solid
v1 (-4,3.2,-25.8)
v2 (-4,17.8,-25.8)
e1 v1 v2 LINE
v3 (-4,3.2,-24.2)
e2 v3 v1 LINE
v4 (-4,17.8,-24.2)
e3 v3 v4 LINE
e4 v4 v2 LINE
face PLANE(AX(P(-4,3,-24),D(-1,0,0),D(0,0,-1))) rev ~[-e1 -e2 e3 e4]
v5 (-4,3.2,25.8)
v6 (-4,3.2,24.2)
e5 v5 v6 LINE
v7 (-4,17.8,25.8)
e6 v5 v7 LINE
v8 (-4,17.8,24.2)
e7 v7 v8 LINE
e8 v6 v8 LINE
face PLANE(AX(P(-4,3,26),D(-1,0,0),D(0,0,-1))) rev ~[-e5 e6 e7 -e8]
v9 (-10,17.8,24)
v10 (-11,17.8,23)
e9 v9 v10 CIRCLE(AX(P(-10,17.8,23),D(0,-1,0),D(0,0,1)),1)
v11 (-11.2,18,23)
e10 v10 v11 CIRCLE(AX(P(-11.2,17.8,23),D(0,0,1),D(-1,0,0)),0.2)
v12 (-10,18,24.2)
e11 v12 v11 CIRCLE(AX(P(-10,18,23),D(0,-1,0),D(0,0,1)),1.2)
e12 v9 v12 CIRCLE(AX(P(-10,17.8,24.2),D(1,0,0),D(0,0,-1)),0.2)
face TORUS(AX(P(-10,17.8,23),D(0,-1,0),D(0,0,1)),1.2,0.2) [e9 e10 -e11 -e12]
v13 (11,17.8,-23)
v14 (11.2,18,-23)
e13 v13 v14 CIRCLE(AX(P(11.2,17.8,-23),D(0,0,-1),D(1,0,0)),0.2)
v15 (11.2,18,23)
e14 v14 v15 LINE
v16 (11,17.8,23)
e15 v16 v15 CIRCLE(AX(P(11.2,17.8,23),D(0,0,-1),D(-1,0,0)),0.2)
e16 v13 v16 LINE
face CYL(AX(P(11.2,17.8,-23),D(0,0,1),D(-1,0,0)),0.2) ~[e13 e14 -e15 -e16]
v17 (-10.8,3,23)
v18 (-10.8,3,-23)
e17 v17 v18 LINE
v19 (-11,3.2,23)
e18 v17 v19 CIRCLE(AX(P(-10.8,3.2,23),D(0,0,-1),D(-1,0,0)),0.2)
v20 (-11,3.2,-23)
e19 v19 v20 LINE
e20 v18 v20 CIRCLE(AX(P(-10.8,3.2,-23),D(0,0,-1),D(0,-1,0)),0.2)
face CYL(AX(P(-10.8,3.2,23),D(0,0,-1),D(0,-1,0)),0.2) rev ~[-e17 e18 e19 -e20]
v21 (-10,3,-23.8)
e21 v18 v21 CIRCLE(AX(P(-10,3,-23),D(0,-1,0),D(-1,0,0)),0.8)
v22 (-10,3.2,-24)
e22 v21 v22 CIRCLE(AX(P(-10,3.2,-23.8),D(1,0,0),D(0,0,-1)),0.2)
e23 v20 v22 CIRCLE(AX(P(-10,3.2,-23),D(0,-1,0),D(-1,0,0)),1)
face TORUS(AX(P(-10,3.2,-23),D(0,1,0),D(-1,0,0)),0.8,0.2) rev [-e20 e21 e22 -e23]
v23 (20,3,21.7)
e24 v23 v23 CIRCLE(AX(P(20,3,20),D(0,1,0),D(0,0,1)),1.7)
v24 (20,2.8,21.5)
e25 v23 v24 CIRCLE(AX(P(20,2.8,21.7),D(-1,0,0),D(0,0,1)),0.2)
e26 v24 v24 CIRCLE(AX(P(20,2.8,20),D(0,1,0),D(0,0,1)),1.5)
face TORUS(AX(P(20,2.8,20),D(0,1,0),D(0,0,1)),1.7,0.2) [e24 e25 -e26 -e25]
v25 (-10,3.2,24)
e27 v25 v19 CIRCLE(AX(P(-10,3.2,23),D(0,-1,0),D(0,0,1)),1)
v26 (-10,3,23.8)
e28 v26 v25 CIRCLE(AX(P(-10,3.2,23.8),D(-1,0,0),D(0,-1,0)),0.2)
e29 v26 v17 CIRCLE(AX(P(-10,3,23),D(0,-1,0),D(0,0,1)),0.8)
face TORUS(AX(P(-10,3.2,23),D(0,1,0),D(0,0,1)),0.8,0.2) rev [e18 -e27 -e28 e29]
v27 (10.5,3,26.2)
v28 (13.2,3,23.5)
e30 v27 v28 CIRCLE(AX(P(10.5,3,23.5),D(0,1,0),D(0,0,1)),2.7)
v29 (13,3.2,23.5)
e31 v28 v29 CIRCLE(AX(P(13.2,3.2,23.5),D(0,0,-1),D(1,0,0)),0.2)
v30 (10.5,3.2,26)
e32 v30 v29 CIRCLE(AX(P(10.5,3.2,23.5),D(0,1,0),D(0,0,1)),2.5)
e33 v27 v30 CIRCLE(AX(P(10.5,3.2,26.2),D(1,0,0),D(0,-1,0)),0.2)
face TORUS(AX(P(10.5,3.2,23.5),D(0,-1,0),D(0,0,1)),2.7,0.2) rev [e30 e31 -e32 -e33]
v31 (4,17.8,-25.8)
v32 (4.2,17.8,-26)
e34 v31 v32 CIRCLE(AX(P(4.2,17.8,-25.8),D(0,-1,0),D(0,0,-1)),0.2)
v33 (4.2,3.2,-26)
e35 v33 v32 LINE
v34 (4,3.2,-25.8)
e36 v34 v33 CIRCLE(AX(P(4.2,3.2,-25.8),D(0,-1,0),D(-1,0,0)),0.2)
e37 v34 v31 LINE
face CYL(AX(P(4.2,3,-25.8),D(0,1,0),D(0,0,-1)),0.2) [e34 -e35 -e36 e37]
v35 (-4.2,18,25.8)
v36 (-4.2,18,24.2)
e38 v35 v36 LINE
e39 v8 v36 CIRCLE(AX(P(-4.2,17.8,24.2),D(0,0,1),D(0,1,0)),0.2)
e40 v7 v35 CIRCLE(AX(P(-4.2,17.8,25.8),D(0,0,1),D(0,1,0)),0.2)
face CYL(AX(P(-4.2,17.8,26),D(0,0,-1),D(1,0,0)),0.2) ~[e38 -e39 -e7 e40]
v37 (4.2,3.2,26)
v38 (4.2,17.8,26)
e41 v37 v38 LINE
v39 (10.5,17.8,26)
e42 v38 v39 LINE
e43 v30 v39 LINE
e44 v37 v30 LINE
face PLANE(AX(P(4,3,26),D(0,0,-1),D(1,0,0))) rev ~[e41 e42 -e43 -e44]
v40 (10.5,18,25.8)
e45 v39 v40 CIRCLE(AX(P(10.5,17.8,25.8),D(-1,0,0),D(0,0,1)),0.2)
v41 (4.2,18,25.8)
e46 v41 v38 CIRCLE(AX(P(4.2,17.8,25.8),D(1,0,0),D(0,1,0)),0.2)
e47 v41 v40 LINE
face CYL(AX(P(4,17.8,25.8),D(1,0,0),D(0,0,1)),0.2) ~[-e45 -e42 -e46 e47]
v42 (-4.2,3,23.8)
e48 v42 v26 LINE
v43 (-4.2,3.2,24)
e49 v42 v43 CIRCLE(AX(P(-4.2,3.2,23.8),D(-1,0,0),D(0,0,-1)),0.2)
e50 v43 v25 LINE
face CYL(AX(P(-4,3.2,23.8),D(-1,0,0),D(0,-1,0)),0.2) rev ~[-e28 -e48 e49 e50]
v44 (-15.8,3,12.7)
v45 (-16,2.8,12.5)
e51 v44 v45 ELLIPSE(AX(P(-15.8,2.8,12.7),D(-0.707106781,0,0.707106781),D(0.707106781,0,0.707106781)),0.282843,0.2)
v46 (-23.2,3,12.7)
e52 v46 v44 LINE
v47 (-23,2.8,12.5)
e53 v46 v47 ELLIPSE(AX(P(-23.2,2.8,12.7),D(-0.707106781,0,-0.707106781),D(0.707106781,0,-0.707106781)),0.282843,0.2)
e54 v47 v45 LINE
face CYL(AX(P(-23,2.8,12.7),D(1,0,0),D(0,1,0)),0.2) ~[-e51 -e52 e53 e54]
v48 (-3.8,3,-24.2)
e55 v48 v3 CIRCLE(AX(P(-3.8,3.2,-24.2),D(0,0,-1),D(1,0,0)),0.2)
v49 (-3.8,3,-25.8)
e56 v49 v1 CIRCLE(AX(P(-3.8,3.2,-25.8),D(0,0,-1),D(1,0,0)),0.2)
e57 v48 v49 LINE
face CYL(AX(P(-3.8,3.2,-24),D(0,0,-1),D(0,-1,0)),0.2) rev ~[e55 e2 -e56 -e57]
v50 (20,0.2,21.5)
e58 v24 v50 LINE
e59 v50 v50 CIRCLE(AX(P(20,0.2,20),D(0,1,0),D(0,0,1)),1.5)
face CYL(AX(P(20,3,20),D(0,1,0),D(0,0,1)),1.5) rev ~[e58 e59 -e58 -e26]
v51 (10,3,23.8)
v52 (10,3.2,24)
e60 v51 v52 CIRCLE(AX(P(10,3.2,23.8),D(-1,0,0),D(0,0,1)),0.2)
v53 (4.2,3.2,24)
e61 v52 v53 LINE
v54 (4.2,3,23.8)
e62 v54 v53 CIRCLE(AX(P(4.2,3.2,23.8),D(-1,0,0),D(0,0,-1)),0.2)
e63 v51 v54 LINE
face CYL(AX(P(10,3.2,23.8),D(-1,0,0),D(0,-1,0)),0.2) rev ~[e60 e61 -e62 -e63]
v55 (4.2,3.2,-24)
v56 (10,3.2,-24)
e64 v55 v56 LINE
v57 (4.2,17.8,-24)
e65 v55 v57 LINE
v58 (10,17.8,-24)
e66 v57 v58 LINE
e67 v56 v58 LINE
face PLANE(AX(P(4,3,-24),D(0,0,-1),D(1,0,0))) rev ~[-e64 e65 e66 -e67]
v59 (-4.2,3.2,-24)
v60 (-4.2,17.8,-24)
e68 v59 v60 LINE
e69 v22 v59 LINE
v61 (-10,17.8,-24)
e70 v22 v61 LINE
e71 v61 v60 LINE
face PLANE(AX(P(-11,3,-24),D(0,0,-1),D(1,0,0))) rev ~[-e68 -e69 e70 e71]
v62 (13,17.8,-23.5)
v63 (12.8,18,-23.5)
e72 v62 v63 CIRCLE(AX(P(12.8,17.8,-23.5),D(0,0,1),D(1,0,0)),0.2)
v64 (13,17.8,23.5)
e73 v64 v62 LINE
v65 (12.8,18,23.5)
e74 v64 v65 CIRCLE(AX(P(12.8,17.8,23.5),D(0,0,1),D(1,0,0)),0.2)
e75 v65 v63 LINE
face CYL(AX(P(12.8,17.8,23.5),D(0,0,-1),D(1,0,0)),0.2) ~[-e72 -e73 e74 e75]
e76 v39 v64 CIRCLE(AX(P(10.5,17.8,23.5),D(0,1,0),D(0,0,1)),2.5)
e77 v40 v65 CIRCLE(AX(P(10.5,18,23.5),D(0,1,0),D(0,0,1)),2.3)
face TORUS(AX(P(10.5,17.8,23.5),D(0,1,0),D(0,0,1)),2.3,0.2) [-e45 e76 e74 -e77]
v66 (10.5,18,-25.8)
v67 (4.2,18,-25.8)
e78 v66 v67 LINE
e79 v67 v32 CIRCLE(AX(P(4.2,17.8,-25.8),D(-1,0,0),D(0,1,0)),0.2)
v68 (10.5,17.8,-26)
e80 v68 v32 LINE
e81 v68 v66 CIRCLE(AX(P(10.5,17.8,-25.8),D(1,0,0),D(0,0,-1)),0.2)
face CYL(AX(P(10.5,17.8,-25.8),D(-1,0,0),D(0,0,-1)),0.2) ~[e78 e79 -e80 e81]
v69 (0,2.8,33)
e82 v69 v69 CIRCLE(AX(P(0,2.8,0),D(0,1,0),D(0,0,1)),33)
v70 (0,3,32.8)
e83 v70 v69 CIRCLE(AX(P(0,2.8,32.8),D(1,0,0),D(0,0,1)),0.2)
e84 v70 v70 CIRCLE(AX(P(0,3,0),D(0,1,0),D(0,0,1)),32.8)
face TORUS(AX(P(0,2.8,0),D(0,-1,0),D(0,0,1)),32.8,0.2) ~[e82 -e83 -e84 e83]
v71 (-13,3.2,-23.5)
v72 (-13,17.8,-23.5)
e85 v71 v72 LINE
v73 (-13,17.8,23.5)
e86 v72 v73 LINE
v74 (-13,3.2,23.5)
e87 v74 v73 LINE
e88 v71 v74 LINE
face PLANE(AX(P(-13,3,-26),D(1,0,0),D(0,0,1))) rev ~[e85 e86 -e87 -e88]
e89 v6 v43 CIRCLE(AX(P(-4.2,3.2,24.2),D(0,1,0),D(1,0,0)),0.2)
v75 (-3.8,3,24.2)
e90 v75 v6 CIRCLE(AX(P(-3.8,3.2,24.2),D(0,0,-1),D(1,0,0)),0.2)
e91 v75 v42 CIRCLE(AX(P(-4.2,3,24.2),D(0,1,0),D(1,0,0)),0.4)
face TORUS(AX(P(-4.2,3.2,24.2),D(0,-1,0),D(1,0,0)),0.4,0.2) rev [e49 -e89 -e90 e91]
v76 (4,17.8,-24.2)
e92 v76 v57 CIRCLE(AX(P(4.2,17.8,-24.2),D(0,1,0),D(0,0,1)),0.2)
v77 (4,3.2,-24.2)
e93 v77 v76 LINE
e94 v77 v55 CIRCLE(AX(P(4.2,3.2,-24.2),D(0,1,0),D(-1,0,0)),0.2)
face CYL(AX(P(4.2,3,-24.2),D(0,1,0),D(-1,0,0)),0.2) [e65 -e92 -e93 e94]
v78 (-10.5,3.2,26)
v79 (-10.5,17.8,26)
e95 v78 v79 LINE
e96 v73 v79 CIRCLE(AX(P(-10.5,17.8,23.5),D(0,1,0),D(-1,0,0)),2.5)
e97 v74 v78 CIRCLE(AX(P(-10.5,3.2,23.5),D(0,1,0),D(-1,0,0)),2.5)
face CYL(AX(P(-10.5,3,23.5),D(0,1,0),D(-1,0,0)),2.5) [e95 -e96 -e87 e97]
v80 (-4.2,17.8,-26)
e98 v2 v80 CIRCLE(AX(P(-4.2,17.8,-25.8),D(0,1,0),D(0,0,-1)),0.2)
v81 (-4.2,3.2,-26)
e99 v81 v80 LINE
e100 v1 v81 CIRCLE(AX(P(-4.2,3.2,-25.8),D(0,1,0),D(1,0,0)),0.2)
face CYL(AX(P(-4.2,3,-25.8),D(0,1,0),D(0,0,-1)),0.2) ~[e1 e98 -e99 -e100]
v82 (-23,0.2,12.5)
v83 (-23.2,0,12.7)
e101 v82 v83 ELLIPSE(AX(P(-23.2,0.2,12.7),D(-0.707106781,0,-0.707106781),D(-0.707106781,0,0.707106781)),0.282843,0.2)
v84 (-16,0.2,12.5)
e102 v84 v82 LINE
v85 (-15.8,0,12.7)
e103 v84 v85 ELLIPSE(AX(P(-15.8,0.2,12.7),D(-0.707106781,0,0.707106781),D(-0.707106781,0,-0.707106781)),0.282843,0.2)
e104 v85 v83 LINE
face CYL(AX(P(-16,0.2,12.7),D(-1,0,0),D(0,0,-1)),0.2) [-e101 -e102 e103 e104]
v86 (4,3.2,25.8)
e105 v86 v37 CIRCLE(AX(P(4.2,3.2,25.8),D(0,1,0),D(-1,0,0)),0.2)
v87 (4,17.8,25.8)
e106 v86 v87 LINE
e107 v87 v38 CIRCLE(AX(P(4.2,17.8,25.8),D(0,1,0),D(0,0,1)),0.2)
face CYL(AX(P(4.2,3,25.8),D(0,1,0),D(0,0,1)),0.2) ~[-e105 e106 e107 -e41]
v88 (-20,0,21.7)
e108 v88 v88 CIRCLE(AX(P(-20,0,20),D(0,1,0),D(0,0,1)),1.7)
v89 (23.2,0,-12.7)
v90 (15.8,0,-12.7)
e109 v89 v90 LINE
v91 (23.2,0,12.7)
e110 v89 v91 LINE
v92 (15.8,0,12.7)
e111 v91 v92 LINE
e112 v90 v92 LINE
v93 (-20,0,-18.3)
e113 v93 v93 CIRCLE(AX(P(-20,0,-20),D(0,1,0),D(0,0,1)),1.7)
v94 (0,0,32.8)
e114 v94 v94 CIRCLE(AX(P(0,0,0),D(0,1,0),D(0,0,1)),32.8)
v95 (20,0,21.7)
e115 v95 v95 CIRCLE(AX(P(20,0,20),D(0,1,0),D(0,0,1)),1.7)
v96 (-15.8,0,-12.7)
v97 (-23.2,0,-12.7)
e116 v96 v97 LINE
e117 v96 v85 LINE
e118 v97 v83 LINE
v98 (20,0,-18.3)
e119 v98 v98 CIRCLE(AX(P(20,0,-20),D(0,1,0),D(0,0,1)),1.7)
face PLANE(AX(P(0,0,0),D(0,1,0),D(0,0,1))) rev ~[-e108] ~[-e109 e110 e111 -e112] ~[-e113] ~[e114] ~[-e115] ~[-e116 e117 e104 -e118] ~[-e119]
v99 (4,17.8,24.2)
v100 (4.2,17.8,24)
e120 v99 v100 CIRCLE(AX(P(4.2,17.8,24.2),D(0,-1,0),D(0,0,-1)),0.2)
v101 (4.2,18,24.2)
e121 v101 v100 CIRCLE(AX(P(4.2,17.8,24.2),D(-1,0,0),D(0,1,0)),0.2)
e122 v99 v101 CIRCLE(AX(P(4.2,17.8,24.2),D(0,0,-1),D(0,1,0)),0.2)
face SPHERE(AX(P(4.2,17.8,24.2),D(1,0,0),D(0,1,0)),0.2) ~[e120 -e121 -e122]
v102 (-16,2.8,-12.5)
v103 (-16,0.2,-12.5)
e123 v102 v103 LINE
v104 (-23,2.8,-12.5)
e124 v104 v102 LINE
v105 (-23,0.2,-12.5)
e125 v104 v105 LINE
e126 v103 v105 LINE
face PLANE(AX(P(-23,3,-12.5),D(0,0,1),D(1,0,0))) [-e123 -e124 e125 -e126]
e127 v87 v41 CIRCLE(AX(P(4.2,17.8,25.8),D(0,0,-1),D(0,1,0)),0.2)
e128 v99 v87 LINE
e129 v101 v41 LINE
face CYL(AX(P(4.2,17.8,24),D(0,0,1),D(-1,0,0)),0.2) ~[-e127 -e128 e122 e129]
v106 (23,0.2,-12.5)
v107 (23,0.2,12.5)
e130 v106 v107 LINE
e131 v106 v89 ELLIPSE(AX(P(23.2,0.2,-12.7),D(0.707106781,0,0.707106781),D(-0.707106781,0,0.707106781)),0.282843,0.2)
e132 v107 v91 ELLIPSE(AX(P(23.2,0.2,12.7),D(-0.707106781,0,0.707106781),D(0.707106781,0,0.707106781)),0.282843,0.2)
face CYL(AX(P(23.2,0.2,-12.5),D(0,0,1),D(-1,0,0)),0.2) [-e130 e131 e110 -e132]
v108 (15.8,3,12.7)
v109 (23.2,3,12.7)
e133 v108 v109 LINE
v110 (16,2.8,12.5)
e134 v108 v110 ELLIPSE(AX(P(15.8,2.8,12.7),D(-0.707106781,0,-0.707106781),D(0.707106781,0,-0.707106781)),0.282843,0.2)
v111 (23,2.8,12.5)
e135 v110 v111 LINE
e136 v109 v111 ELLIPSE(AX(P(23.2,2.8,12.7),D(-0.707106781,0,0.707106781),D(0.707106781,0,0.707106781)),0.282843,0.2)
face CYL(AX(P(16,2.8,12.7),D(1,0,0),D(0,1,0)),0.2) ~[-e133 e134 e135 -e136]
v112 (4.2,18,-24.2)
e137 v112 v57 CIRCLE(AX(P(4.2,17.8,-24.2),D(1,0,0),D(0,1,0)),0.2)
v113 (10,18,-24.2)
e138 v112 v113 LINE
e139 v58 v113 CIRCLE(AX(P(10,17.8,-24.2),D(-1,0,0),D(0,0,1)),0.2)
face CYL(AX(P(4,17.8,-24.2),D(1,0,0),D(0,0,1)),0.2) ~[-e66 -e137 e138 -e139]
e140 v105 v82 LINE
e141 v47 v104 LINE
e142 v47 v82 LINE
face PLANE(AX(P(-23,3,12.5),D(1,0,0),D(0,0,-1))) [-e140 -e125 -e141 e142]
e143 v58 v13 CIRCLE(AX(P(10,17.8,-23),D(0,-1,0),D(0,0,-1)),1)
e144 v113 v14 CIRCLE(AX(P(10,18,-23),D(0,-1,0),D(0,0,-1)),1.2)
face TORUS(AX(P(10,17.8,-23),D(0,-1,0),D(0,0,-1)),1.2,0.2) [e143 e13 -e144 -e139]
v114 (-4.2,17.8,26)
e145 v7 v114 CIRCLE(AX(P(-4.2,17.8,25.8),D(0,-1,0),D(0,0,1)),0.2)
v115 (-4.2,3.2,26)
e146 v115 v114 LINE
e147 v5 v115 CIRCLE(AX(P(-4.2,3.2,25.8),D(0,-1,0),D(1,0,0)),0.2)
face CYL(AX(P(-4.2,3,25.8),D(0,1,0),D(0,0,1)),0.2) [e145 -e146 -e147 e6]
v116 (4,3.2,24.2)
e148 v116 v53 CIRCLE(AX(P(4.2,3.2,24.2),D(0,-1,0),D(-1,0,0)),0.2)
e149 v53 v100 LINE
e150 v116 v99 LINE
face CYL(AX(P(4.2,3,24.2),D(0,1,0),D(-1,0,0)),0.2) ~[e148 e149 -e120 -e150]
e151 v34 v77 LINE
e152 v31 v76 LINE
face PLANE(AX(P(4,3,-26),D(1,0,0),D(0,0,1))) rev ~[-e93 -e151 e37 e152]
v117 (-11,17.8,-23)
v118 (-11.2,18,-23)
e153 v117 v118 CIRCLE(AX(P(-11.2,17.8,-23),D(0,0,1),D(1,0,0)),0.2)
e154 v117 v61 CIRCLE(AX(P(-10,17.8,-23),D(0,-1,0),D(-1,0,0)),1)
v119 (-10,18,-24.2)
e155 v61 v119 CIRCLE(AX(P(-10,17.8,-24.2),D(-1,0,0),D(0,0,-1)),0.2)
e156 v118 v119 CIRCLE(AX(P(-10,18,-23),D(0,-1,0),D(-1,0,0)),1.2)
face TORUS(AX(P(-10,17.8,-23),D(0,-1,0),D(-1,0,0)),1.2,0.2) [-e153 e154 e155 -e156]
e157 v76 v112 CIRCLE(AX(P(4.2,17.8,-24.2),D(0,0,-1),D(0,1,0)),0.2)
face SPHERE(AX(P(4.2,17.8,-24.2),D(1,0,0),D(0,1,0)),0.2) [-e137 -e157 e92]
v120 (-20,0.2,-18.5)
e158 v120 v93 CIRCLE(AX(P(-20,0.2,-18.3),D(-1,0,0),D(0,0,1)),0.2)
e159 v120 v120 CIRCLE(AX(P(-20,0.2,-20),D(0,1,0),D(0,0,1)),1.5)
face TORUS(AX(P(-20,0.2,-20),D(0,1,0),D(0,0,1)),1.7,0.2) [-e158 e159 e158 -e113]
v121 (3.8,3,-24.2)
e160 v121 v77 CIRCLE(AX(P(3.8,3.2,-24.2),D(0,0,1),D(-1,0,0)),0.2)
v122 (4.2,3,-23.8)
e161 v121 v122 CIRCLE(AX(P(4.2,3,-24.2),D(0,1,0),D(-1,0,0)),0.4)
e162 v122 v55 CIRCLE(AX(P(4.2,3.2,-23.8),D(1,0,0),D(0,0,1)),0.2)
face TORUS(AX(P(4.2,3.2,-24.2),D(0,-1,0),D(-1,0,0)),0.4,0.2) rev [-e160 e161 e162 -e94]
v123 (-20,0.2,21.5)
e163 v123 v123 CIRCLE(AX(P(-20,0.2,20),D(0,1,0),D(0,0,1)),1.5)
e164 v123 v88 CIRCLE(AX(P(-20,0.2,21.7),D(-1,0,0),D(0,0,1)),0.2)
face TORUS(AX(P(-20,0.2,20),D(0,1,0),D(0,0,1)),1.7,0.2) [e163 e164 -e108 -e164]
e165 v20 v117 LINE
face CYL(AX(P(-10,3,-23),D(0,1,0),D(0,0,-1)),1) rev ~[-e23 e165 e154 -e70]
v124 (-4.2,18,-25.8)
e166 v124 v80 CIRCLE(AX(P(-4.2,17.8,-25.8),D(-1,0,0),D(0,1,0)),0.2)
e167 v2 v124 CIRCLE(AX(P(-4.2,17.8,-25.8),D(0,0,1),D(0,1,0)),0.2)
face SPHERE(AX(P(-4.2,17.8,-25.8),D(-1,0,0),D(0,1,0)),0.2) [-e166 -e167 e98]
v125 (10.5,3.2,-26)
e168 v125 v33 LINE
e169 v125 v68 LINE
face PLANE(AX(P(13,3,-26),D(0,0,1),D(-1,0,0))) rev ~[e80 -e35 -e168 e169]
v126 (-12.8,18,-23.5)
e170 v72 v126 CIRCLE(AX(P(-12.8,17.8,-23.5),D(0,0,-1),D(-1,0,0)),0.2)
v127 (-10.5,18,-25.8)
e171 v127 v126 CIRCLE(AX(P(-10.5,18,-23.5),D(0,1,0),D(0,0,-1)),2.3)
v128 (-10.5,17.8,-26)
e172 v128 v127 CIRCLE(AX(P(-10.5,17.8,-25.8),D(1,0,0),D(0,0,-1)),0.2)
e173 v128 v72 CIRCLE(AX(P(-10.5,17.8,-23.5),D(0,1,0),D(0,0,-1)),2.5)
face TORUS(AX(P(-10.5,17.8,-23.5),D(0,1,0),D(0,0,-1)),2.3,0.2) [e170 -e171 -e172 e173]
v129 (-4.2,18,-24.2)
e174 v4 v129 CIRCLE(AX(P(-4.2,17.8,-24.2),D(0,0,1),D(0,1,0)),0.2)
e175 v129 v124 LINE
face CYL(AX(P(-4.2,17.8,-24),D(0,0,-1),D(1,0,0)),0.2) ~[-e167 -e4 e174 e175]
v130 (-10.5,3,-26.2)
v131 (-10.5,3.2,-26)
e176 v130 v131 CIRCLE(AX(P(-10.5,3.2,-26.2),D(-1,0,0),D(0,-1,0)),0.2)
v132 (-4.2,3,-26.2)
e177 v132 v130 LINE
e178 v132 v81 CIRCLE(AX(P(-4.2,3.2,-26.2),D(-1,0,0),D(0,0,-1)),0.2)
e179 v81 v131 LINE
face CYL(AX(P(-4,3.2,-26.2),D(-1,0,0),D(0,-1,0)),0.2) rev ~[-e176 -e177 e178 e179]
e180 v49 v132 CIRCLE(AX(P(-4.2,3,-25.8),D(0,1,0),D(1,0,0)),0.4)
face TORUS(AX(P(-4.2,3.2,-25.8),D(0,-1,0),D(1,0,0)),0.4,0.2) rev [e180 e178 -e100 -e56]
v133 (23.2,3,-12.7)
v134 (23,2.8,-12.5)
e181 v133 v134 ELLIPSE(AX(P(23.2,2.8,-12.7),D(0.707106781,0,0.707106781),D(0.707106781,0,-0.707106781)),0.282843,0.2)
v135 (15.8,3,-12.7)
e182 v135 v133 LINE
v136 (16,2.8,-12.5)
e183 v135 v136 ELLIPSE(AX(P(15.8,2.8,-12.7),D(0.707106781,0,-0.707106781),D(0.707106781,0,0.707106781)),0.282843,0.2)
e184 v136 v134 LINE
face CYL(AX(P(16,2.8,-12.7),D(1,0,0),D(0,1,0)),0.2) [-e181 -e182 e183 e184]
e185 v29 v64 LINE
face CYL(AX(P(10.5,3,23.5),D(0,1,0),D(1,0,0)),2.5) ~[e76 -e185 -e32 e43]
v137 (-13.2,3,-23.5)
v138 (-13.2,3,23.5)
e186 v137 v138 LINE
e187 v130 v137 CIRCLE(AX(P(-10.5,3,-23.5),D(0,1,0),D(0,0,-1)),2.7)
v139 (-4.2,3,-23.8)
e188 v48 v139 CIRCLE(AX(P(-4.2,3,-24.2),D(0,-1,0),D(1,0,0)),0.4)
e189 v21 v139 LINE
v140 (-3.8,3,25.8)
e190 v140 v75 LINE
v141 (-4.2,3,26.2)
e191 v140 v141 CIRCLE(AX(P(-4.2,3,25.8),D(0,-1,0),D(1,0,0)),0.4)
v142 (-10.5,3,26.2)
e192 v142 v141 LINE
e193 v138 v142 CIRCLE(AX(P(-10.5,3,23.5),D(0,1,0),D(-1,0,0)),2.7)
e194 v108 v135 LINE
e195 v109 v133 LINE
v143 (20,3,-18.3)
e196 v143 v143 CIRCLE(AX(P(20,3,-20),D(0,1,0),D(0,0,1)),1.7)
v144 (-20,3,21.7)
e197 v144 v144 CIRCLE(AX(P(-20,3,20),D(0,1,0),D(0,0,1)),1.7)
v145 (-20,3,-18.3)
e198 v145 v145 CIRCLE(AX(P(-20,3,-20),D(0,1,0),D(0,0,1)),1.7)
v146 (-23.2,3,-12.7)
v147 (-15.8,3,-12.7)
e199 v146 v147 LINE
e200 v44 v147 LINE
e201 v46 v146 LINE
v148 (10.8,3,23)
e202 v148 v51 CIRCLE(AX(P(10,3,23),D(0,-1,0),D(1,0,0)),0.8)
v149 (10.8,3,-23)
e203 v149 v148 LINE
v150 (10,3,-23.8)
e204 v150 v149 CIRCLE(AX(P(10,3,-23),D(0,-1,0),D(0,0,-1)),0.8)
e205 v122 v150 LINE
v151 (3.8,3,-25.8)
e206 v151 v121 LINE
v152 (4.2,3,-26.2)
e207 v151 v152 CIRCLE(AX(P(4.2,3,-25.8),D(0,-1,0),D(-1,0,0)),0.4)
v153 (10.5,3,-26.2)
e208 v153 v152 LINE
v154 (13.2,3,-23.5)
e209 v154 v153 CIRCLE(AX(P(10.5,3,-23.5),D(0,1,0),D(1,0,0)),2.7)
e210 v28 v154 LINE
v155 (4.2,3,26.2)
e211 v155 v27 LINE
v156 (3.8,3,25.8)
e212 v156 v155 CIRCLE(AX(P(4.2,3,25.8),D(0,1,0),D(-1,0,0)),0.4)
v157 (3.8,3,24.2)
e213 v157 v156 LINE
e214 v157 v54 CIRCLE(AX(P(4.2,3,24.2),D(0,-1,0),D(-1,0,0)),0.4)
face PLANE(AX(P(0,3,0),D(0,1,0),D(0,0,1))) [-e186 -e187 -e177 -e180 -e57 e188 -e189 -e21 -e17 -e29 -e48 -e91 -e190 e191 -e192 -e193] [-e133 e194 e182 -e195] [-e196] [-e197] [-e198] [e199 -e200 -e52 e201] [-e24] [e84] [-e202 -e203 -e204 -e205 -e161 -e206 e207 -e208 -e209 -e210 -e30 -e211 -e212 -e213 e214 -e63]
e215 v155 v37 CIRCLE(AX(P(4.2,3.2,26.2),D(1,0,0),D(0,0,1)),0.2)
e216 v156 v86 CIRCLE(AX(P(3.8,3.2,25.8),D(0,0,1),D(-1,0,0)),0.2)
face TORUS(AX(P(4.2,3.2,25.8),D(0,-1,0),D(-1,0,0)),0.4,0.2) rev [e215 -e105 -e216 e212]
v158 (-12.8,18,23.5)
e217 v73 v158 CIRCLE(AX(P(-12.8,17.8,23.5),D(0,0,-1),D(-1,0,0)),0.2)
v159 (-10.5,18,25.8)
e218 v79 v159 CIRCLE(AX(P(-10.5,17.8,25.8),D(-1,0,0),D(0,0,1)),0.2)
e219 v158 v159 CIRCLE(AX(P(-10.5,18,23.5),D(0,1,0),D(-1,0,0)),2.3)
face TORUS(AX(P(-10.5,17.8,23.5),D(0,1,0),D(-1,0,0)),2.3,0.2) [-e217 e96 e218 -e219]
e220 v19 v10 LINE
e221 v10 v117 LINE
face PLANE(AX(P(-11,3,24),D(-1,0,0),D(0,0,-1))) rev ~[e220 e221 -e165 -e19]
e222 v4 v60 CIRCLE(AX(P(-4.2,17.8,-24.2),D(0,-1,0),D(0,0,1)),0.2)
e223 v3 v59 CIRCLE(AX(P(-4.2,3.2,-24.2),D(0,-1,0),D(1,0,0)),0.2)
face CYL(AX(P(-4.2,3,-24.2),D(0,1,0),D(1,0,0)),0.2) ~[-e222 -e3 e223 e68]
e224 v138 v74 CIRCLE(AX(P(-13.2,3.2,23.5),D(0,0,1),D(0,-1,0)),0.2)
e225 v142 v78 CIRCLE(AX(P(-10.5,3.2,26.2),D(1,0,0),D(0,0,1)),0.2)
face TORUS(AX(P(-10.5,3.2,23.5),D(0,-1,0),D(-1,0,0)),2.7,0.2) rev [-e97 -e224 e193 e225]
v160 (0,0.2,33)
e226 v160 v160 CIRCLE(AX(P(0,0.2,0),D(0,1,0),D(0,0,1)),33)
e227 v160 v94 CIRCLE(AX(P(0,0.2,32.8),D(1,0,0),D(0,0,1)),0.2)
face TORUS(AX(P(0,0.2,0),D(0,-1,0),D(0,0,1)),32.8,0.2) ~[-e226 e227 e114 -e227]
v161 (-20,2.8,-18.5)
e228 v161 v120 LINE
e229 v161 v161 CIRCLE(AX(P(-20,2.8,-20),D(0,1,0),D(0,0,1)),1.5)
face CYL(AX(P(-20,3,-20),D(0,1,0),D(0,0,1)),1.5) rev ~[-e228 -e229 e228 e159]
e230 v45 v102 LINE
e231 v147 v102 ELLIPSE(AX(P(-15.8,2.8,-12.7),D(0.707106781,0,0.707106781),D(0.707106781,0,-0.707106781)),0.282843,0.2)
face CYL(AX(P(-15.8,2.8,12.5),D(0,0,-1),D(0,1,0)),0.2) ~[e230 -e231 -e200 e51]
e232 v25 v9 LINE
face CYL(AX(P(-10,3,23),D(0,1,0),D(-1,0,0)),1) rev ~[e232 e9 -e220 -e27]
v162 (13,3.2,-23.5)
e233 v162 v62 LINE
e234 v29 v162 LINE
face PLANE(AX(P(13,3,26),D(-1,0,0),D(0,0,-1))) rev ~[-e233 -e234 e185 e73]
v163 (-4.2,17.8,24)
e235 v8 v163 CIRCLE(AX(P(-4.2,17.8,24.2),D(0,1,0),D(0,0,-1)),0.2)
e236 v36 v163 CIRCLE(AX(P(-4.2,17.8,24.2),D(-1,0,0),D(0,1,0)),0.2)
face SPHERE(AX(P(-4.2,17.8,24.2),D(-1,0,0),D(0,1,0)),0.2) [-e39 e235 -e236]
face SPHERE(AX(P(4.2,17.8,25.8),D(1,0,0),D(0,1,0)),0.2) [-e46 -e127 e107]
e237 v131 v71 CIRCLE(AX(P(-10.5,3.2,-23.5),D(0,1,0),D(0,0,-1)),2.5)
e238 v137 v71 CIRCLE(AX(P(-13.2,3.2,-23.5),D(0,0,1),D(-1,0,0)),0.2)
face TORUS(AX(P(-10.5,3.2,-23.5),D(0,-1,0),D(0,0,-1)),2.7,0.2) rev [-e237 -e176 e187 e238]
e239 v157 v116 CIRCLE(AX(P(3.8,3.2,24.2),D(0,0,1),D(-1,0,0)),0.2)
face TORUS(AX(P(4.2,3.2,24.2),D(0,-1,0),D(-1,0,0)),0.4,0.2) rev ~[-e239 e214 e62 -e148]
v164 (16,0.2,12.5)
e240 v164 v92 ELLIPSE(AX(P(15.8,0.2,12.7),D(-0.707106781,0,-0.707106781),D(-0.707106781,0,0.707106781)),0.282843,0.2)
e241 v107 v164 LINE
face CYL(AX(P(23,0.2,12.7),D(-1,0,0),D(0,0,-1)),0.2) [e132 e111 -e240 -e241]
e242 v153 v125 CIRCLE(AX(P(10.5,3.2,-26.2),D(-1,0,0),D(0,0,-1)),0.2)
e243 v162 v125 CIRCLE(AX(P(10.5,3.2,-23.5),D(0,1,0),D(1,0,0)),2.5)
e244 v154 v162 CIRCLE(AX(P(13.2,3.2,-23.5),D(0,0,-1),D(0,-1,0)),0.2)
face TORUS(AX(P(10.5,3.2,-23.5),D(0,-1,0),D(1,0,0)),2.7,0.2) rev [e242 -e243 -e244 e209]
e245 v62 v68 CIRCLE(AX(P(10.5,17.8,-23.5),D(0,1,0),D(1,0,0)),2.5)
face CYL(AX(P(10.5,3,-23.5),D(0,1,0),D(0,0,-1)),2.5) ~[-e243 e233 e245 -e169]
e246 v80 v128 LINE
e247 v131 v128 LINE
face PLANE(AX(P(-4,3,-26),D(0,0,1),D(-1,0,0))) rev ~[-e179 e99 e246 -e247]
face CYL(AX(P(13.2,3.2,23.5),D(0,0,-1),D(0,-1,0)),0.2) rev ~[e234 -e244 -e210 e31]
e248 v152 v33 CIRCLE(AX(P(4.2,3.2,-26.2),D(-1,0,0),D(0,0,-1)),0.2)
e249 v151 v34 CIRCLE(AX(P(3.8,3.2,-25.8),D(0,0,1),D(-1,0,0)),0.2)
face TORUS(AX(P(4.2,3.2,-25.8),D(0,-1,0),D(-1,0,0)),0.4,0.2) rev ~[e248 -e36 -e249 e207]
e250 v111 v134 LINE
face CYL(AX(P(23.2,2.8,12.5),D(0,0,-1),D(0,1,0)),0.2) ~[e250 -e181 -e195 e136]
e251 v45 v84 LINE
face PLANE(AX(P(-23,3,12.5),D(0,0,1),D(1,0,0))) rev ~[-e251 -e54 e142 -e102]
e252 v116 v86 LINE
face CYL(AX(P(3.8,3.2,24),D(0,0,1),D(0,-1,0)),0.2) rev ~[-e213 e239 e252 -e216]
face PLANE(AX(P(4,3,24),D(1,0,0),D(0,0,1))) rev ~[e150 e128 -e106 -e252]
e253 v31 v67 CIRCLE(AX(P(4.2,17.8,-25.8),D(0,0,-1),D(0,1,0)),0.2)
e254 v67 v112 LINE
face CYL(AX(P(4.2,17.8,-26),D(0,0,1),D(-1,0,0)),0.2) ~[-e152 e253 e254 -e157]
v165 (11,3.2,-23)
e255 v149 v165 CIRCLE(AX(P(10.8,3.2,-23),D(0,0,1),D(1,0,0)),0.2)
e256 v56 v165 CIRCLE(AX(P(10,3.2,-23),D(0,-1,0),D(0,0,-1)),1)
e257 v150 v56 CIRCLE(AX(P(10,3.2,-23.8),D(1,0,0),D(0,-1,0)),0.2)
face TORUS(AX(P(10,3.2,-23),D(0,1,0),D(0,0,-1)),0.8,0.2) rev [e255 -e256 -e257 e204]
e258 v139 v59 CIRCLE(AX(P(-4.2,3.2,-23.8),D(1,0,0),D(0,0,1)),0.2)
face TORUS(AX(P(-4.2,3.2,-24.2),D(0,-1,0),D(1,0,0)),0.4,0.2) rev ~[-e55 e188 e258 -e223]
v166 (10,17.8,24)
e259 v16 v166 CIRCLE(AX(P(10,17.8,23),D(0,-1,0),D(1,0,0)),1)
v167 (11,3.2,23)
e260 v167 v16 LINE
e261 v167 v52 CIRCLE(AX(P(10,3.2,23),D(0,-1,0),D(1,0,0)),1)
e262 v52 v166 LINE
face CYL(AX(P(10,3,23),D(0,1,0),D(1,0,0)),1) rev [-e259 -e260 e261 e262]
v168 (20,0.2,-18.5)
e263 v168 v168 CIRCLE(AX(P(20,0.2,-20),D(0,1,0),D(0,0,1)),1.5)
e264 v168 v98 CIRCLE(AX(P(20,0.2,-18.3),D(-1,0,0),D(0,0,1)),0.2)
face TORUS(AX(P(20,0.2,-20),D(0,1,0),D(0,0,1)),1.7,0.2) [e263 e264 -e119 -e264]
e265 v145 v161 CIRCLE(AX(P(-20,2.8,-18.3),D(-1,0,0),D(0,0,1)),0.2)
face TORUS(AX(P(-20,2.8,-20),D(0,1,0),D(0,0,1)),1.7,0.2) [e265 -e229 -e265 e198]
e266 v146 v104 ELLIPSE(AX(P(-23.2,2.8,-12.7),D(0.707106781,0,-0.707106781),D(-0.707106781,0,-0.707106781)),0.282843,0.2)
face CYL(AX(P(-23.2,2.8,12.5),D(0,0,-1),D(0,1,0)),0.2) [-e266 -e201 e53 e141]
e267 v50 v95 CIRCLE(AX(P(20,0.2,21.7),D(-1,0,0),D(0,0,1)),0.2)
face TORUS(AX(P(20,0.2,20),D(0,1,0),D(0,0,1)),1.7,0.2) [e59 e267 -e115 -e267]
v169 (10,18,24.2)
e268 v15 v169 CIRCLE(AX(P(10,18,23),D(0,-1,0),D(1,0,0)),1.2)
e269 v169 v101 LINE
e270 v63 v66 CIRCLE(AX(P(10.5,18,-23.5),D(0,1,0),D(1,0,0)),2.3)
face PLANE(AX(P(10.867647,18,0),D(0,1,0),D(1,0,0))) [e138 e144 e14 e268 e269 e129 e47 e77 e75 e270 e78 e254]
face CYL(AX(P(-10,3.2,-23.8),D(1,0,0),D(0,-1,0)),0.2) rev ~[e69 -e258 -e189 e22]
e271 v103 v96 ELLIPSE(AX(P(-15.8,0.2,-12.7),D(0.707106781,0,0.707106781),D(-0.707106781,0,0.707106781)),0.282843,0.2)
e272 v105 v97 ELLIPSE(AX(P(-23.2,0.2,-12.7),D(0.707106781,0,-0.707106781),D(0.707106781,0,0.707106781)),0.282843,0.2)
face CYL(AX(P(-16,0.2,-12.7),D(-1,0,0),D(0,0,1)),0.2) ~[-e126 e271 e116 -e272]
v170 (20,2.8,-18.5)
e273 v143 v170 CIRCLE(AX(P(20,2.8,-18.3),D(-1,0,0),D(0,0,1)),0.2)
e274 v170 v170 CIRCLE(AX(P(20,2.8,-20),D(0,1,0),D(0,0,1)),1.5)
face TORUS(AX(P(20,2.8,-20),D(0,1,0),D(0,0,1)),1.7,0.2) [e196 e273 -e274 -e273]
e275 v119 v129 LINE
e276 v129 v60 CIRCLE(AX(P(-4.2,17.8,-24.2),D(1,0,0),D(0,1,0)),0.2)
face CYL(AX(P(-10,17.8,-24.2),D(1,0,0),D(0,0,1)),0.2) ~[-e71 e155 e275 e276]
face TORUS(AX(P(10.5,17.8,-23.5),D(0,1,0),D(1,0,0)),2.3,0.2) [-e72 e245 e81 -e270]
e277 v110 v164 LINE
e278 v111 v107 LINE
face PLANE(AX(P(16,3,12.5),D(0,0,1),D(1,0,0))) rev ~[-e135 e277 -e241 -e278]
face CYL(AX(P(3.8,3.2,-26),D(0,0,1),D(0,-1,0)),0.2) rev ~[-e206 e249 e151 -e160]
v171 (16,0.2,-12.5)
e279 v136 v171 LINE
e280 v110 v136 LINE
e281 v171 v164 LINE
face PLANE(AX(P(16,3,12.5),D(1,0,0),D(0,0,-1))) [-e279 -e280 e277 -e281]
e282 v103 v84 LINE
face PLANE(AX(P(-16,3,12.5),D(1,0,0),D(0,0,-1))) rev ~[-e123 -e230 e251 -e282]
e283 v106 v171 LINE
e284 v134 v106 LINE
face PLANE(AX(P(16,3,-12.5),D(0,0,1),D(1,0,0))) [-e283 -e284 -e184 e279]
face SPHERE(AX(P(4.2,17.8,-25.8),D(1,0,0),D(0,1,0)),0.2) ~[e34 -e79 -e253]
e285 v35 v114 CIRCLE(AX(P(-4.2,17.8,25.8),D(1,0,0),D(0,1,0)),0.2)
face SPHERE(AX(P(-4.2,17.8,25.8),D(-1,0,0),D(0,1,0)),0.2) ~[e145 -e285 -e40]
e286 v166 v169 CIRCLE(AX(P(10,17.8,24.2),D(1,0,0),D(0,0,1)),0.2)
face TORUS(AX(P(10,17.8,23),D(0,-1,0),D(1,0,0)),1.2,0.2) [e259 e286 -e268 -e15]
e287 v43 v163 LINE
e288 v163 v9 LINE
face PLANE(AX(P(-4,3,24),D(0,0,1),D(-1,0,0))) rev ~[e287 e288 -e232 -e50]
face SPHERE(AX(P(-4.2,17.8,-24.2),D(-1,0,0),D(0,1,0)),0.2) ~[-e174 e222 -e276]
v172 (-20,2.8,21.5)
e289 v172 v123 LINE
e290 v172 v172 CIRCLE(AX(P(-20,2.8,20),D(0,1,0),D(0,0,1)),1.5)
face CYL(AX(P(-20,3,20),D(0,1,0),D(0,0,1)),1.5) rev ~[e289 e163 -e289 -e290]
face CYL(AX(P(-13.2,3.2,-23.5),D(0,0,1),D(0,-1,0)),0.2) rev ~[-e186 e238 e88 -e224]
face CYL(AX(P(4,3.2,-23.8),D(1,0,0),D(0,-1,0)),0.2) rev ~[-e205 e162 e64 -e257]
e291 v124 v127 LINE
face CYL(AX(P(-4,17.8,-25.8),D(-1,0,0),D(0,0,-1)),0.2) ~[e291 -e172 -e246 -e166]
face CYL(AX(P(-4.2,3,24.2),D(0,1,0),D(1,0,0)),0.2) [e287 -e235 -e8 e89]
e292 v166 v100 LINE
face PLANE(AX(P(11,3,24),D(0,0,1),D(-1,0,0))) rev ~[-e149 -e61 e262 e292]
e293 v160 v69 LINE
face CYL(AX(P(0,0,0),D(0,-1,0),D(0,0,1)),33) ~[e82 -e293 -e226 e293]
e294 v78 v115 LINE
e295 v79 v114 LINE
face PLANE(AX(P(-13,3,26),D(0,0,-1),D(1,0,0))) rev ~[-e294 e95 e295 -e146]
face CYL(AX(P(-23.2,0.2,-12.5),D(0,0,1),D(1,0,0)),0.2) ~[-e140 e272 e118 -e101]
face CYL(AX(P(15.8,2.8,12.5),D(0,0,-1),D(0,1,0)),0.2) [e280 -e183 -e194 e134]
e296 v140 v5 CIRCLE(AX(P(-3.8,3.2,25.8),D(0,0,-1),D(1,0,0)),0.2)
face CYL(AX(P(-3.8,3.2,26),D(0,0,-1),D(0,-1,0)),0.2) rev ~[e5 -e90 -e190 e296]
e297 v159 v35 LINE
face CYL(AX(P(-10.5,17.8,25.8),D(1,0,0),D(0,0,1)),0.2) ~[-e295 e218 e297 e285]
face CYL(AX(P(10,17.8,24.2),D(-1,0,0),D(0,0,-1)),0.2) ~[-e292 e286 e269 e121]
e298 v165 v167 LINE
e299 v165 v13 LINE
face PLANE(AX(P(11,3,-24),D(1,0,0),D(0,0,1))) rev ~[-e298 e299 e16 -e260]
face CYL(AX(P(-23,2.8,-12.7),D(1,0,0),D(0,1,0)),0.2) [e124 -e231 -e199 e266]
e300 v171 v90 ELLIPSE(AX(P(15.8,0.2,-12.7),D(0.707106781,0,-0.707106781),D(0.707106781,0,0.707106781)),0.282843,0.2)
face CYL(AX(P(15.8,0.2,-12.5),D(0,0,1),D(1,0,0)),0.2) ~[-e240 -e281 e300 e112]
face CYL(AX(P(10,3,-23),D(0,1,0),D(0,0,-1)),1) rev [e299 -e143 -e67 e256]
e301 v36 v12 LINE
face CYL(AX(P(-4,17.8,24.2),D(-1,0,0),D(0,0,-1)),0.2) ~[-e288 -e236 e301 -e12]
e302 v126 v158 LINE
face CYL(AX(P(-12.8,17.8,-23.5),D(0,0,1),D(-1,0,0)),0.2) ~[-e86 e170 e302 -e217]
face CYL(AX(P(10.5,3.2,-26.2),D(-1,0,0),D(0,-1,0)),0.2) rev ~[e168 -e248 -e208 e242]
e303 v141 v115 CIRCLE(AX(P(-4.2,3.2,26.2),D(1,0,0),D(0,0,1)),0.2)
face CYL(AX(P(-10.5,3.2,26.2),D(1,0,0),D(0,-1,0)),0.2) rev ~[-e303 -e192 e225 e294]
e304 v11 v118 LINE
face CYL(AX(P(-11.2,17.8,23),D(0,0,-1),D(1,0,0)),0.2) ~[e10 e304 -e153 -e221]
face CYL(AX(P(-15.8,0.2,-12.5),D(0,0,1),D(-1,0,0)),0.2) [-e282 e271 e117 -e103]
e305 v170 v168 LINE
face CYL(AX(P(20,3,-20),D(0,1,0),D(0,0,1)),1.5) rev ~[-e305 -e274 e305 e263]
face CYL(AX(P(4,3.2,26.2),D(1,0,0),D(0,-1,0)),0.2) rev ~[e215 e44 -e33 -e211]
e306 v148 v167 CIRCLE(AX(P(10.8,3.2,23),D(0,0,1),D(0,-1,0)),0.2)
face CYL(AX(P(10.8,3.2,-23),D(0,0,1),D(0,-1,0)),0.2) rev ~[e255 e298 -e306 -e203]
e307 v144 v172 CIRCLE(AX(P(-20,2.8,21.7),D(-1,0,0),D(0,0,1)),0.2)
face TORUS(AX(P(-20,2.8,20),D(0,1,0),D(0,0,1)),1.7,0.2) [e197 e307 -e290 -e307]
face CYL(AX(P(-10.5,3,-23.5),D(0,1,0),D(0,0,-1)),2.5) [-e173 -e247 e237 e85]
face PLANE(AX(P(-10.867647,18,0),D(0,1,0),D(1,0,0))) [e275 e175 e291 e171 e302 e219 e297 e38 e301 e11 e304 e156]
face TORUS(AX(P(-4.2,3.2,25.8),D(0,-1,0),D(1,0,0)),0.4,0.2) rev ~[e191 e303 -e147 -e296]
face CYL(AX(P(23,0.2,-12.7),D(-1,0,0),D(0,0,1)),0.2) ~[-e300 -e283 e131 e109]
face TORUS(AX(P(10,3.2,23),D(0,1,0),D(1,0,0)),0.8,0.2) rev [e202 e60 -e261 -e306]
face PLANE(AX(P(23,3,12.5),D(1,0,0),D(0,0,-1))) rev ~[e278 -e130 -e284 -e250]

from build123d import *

# Parameters (mm, degrees)
SKETCH1_R           = 33
BOSS_EXTRUDE1_DEPTH = 3
EXTRUDE_THIN1_DEPTH = 15
CUT_EXTRUDE1_REACH  = 51.02
SKETCH3_W           = 7
SKETCH3_H           = 25
CUT_EXTRUDE2_REACH  = 51.02
SKETCH4_R           = 1.5
FILLET2_R           = 1
FILLET3_R           = 2.5
FILLET5_R           = 0.2


with BuildPart() as part:
    # Sketch1 → Boss-Extrude1 (new body)
    with BuildSketch(Plane(origin=(0, 0, 0), x_dir=(1, 0, 0), z_dir=(0, 1, 0))):
        with Locations(Location((0, 0, 0), (0, 0, 270))):
            Circle(SKETCH1_R)
    extrude(amount=BOSS_EXTRUDE1_DEPTH)

    # Sketch2 → Extrude-Thin1 (add)
    with BuildSketch(Plane(origin=(0, 3, 0), x_dir=(1, 0, 0), z_dir=(0, 1, 0))):
        Polygon((-4, 26), (-13, 26), (-13, -26), (-4, -26), (-4, -24), (-11, -24), (-11, 24), (-4, 24), align=None)
        Polygon((4, 24), (11, 24), (11, -24), (4, -24), (4, -26), (13, -26), (13, 26), (4, 26), align=None)
    extrude(amount=EXTRUDE_THIN1_DEPTH)

    # Sketch3 → Cut-Extrude1 (cut, up to next)
    with BuildSketch(Plane(origin=(0, 3, 0), x_dir=(1, 0, 0), z_dir=(0, 1, 0)), mode=Mode.PRIVATE) as cut_extrude1_sk1:
        with Locations((-19.5, 0)):
            Rectangle(SKETCH3_W, SKETCH3_H)
    cut_extrude1_tool1 = extrude(cut_extrude1_sk1.sketch, amount=-CUT_EXTRUDE1_REACH, mode=Mode.PRIVATE) & part.part
    # Sketch3 → Cut-Extrude1 (cut, up to next)
    with BuildSketch(Plane(origin=(0, 3, 0), x_dir=(1, 0, 0), z_dir=(0, 1, 0)), mode=Mode.PRIVATE) as cut_extrude1_sk2:
        with Locations((19.5, 0)):
            Rectangle(SKETCH3_W, SKETCH3_H)
    cut_extrude1_tool2 = extrude(cut_extrude1_sk2.sketch, amount=-CUT_EXTRUDE1_REACH, mode=Mode.PRIVATE) & part.part
    add(cut_extrude1_tool1.solids().sort_by_distance((-19.5, 3, 0))[0], mode=Mode.SUBTRACT)
    add(cut_extrude1_tool2.solids().sort_by_distance((19.5, 3, 0))[0], mode=Mode.SUBTRACT)

    # Sketch4 → Cut-Extrude2 (cut, up to next)
    with BuildSketch(Plane(origin=(0, 3, 0), x_dir=(1, 0, 0), z_dir=(0, 1, 0)), mode=Mode.PRIVATE) as cut_extrude2_sk1:
        with Locations(Location((-20, -20, 0), (0, 0, 270))):
            Circle(SKETCH4_R)
    cut_extrude2_tool1 = extrude(cut_extrude2_sk1.sketch, amount=-CUT_EXTRUDE2_REACH, mode=Mode.PRIVATE) & part.part
    # Sketch4 → Cut-Extrude2 (cut, up to next)
    with BuildSketch(Plane(origin=(0, 3, 0), x_dir=(1, 0, 0), z_dir=(0, 1, 0)), mode=Mode.PRIVATE) as cut_extrude2_sk2:
        with Locations(Location((20, -20, 0), (0, 0, 270))):
            Circle(SKETCH4_R)
    cut_extrude2_tool2 = extrude(cut_extrude2_sk2.sketch, amount=-CUT_EXTRUDE2_REACH, mode=Mode.PRIVATE) & part.part
    # Sketch4 → Cut-Extrude2 (cut, up to next)
    with BuildSketch(Plane(origin=(0, 3, 0), x_dir=(1, 0, 0), z_dir=(0, 1, 0)), mode=Mode.PRIVATE) as cut_extrude2_sk3:
        with Locations(Location((20, 20, 0), (0, 0, 270))):
            Circle(SKETCH4_R)
    cut_extrude2_tool3 = extrude(cut_extrude2_sk3.sketch, amount=-CUT_EXTRUDE2_REACH, mode=Mode.PRIVATE) & part.part
    # Sketch4 → Cut-Extrude2 (cut, up to next)
    with BuildSketch(Plane(origin=(0, 3, 0), x_dir=(1, 0, 0), z_dir=(0, 1, 0)), mode=Mode.PRIVATE) as cut_extrude2_sk4:
        with Locations(Location((-20, 20, 0), (0, 0, 270))):
            Circle(SKETCH4_R)
    cut_extrude2_tool4 = extrude(cut_extrude2_sk4.sketch, amount=-CUT_EXTRUDE2_REACH, mode=Mode.PRIVATE) & part.part
    add(cut_extrude2_tool1.solids().sort_by_distance((-20, 3, 20))[0], mode=Mode.SUBTRACT)
    add(cut_extrude2_tool2.solids().sort_by_distance((20, 3, 20))[0], mode=Mode.SUBTRACT)
    add(cut_extrude2_tool3.solids().sort_by_distance((20, 3, -20))[0], mode=Mode.SUBTRACT)
    add(cut_extrude2_tool4.solids().sort_by_distance((-20, 3, -20))[0], mode=Mode.SUBTRACT)

    # Fillet2
    fillet2_edges = [part.edges().sort_by_distance(p)[0] for p in [
        (-11, 10.5, 24),
        (-11, 10.5, -24),
        (11, 10.5, 24),
        (11, 10.5, -24),
    ]]
    fillet(fillet2_edges, radius=FILLET2_R)

    # Fillet3
    fillet3_edges = [part.edges().sort_by_distance(p)[0] for p in [
        (-13, 10.5, 26),
        (-13, 10.5, -26),
        (13, 10.5, 26),
        (13, 10.5, -26),
    ]]
    fillet(fillet3_edges, radius=FILLET3_R)

    # Fillet5
    fillet5_edges = [part.edges().sort_by_distance(p)[0] for p in [
        (-11, 3, 0),
        (-11, 18, 0),
        (7, 3, 24),
        (11, 3, 0),
        (-7, 3, 24),
        (-10.707106781, 3, -23.707106781),
        (10.707106781, 3, -23.707106781),
        (10.707106781, 3, 23.707106781),
        (-10.707106781, 3, 23.707106781),
        (-7, 18, 24),
        (7, 18, 24),
        (11, 18, 0),
        (-10.707106781, 18, 23.707106781),
        (10.707106781, 18, 23.707106781),
        (10.707106781, 18, -23.707106781),
        (-10.707106781, 18, -23.707106781),
        (13, 3, 0),
        (13, 18, 0),
        (7.25, 18, 26),
        (12.267766953, 18, 25.267766953),
        (12.267766953, 18, -25.267766953),
        (-13, 3, 0),
        (-13, 18, 0),
        (-7.25, 18, 26),
        (-4, 18, 25),
        (-12.267766953, 18, 25.267766953),
        (-12.267766953, 18, -25.267766953),
        (-7.25, 3, 26),
        (-4, 10.5, 26),
        (7.25, 3, 26),
        (12.267766953, 3, -25.267766953),
        (-12.267766953, 3, -25.267766953),
        (-12.267766953, 3, 25.267766953),
        (12.267766953, 3, 25.267766953),
        (-4, 10.5, 24),
        (-7, 18, -24),
        (-4, 18, -25),
        (-4, 10.5, -24),
        (-7.25, 3, -26),
        (-4, 10.5, -26),
        (-7.25, 18, -26),
        (-4, 3, -25),
        (-7, 3, -24),
        (-4, 3, 25),
        (0, 0, -33),
        (4, 18, 25),
        (4, 10.5, 24),
        (4, 10.5, 26),
        (7.25, 18, -26),
        (4, 18, -25),
        (4, 10.5, -26),
        (7, 3, -24),
        (4, 10.5, -24),
        (7, 18, -24),
        (4, 3, -25),
        (7.25, 3, -26),
        (4, 3, 25),
        (0, 3, -33),
        (-23, 3, 0),
        (-19.5, 3, 12.5),
        (-16, 3, 0),
        (-19.5, 3, -12.5),
        (-19.5, 0, 12.5),
        (-23, 0, 0),
        (-19.5, 0, -12.5),
        (-16, 0, 0),
        (19.5, 3, -12.5),
        (16, 3, 0),
        (19.5, 3, 12.5),
        (23, 3, 0),
        (16, 0, 0),
        (19.5, 0, -12.5),
        (23, 0, 0),
        (19.5, 0, 12.5),
        (-20, 3, -21.5),
        (-20, 0, -21.5),
        (20, 3, -21.5),
        (20, 0, -21.5),
        (20, 3, 18.5),
        (20, 0, 18.5),
        (-20, 3, 18.5),
        (-20, 0, 18.5),
    ]]
    fillet(fillet5_edges, radius=FILLET5_R)


solid = part.part
